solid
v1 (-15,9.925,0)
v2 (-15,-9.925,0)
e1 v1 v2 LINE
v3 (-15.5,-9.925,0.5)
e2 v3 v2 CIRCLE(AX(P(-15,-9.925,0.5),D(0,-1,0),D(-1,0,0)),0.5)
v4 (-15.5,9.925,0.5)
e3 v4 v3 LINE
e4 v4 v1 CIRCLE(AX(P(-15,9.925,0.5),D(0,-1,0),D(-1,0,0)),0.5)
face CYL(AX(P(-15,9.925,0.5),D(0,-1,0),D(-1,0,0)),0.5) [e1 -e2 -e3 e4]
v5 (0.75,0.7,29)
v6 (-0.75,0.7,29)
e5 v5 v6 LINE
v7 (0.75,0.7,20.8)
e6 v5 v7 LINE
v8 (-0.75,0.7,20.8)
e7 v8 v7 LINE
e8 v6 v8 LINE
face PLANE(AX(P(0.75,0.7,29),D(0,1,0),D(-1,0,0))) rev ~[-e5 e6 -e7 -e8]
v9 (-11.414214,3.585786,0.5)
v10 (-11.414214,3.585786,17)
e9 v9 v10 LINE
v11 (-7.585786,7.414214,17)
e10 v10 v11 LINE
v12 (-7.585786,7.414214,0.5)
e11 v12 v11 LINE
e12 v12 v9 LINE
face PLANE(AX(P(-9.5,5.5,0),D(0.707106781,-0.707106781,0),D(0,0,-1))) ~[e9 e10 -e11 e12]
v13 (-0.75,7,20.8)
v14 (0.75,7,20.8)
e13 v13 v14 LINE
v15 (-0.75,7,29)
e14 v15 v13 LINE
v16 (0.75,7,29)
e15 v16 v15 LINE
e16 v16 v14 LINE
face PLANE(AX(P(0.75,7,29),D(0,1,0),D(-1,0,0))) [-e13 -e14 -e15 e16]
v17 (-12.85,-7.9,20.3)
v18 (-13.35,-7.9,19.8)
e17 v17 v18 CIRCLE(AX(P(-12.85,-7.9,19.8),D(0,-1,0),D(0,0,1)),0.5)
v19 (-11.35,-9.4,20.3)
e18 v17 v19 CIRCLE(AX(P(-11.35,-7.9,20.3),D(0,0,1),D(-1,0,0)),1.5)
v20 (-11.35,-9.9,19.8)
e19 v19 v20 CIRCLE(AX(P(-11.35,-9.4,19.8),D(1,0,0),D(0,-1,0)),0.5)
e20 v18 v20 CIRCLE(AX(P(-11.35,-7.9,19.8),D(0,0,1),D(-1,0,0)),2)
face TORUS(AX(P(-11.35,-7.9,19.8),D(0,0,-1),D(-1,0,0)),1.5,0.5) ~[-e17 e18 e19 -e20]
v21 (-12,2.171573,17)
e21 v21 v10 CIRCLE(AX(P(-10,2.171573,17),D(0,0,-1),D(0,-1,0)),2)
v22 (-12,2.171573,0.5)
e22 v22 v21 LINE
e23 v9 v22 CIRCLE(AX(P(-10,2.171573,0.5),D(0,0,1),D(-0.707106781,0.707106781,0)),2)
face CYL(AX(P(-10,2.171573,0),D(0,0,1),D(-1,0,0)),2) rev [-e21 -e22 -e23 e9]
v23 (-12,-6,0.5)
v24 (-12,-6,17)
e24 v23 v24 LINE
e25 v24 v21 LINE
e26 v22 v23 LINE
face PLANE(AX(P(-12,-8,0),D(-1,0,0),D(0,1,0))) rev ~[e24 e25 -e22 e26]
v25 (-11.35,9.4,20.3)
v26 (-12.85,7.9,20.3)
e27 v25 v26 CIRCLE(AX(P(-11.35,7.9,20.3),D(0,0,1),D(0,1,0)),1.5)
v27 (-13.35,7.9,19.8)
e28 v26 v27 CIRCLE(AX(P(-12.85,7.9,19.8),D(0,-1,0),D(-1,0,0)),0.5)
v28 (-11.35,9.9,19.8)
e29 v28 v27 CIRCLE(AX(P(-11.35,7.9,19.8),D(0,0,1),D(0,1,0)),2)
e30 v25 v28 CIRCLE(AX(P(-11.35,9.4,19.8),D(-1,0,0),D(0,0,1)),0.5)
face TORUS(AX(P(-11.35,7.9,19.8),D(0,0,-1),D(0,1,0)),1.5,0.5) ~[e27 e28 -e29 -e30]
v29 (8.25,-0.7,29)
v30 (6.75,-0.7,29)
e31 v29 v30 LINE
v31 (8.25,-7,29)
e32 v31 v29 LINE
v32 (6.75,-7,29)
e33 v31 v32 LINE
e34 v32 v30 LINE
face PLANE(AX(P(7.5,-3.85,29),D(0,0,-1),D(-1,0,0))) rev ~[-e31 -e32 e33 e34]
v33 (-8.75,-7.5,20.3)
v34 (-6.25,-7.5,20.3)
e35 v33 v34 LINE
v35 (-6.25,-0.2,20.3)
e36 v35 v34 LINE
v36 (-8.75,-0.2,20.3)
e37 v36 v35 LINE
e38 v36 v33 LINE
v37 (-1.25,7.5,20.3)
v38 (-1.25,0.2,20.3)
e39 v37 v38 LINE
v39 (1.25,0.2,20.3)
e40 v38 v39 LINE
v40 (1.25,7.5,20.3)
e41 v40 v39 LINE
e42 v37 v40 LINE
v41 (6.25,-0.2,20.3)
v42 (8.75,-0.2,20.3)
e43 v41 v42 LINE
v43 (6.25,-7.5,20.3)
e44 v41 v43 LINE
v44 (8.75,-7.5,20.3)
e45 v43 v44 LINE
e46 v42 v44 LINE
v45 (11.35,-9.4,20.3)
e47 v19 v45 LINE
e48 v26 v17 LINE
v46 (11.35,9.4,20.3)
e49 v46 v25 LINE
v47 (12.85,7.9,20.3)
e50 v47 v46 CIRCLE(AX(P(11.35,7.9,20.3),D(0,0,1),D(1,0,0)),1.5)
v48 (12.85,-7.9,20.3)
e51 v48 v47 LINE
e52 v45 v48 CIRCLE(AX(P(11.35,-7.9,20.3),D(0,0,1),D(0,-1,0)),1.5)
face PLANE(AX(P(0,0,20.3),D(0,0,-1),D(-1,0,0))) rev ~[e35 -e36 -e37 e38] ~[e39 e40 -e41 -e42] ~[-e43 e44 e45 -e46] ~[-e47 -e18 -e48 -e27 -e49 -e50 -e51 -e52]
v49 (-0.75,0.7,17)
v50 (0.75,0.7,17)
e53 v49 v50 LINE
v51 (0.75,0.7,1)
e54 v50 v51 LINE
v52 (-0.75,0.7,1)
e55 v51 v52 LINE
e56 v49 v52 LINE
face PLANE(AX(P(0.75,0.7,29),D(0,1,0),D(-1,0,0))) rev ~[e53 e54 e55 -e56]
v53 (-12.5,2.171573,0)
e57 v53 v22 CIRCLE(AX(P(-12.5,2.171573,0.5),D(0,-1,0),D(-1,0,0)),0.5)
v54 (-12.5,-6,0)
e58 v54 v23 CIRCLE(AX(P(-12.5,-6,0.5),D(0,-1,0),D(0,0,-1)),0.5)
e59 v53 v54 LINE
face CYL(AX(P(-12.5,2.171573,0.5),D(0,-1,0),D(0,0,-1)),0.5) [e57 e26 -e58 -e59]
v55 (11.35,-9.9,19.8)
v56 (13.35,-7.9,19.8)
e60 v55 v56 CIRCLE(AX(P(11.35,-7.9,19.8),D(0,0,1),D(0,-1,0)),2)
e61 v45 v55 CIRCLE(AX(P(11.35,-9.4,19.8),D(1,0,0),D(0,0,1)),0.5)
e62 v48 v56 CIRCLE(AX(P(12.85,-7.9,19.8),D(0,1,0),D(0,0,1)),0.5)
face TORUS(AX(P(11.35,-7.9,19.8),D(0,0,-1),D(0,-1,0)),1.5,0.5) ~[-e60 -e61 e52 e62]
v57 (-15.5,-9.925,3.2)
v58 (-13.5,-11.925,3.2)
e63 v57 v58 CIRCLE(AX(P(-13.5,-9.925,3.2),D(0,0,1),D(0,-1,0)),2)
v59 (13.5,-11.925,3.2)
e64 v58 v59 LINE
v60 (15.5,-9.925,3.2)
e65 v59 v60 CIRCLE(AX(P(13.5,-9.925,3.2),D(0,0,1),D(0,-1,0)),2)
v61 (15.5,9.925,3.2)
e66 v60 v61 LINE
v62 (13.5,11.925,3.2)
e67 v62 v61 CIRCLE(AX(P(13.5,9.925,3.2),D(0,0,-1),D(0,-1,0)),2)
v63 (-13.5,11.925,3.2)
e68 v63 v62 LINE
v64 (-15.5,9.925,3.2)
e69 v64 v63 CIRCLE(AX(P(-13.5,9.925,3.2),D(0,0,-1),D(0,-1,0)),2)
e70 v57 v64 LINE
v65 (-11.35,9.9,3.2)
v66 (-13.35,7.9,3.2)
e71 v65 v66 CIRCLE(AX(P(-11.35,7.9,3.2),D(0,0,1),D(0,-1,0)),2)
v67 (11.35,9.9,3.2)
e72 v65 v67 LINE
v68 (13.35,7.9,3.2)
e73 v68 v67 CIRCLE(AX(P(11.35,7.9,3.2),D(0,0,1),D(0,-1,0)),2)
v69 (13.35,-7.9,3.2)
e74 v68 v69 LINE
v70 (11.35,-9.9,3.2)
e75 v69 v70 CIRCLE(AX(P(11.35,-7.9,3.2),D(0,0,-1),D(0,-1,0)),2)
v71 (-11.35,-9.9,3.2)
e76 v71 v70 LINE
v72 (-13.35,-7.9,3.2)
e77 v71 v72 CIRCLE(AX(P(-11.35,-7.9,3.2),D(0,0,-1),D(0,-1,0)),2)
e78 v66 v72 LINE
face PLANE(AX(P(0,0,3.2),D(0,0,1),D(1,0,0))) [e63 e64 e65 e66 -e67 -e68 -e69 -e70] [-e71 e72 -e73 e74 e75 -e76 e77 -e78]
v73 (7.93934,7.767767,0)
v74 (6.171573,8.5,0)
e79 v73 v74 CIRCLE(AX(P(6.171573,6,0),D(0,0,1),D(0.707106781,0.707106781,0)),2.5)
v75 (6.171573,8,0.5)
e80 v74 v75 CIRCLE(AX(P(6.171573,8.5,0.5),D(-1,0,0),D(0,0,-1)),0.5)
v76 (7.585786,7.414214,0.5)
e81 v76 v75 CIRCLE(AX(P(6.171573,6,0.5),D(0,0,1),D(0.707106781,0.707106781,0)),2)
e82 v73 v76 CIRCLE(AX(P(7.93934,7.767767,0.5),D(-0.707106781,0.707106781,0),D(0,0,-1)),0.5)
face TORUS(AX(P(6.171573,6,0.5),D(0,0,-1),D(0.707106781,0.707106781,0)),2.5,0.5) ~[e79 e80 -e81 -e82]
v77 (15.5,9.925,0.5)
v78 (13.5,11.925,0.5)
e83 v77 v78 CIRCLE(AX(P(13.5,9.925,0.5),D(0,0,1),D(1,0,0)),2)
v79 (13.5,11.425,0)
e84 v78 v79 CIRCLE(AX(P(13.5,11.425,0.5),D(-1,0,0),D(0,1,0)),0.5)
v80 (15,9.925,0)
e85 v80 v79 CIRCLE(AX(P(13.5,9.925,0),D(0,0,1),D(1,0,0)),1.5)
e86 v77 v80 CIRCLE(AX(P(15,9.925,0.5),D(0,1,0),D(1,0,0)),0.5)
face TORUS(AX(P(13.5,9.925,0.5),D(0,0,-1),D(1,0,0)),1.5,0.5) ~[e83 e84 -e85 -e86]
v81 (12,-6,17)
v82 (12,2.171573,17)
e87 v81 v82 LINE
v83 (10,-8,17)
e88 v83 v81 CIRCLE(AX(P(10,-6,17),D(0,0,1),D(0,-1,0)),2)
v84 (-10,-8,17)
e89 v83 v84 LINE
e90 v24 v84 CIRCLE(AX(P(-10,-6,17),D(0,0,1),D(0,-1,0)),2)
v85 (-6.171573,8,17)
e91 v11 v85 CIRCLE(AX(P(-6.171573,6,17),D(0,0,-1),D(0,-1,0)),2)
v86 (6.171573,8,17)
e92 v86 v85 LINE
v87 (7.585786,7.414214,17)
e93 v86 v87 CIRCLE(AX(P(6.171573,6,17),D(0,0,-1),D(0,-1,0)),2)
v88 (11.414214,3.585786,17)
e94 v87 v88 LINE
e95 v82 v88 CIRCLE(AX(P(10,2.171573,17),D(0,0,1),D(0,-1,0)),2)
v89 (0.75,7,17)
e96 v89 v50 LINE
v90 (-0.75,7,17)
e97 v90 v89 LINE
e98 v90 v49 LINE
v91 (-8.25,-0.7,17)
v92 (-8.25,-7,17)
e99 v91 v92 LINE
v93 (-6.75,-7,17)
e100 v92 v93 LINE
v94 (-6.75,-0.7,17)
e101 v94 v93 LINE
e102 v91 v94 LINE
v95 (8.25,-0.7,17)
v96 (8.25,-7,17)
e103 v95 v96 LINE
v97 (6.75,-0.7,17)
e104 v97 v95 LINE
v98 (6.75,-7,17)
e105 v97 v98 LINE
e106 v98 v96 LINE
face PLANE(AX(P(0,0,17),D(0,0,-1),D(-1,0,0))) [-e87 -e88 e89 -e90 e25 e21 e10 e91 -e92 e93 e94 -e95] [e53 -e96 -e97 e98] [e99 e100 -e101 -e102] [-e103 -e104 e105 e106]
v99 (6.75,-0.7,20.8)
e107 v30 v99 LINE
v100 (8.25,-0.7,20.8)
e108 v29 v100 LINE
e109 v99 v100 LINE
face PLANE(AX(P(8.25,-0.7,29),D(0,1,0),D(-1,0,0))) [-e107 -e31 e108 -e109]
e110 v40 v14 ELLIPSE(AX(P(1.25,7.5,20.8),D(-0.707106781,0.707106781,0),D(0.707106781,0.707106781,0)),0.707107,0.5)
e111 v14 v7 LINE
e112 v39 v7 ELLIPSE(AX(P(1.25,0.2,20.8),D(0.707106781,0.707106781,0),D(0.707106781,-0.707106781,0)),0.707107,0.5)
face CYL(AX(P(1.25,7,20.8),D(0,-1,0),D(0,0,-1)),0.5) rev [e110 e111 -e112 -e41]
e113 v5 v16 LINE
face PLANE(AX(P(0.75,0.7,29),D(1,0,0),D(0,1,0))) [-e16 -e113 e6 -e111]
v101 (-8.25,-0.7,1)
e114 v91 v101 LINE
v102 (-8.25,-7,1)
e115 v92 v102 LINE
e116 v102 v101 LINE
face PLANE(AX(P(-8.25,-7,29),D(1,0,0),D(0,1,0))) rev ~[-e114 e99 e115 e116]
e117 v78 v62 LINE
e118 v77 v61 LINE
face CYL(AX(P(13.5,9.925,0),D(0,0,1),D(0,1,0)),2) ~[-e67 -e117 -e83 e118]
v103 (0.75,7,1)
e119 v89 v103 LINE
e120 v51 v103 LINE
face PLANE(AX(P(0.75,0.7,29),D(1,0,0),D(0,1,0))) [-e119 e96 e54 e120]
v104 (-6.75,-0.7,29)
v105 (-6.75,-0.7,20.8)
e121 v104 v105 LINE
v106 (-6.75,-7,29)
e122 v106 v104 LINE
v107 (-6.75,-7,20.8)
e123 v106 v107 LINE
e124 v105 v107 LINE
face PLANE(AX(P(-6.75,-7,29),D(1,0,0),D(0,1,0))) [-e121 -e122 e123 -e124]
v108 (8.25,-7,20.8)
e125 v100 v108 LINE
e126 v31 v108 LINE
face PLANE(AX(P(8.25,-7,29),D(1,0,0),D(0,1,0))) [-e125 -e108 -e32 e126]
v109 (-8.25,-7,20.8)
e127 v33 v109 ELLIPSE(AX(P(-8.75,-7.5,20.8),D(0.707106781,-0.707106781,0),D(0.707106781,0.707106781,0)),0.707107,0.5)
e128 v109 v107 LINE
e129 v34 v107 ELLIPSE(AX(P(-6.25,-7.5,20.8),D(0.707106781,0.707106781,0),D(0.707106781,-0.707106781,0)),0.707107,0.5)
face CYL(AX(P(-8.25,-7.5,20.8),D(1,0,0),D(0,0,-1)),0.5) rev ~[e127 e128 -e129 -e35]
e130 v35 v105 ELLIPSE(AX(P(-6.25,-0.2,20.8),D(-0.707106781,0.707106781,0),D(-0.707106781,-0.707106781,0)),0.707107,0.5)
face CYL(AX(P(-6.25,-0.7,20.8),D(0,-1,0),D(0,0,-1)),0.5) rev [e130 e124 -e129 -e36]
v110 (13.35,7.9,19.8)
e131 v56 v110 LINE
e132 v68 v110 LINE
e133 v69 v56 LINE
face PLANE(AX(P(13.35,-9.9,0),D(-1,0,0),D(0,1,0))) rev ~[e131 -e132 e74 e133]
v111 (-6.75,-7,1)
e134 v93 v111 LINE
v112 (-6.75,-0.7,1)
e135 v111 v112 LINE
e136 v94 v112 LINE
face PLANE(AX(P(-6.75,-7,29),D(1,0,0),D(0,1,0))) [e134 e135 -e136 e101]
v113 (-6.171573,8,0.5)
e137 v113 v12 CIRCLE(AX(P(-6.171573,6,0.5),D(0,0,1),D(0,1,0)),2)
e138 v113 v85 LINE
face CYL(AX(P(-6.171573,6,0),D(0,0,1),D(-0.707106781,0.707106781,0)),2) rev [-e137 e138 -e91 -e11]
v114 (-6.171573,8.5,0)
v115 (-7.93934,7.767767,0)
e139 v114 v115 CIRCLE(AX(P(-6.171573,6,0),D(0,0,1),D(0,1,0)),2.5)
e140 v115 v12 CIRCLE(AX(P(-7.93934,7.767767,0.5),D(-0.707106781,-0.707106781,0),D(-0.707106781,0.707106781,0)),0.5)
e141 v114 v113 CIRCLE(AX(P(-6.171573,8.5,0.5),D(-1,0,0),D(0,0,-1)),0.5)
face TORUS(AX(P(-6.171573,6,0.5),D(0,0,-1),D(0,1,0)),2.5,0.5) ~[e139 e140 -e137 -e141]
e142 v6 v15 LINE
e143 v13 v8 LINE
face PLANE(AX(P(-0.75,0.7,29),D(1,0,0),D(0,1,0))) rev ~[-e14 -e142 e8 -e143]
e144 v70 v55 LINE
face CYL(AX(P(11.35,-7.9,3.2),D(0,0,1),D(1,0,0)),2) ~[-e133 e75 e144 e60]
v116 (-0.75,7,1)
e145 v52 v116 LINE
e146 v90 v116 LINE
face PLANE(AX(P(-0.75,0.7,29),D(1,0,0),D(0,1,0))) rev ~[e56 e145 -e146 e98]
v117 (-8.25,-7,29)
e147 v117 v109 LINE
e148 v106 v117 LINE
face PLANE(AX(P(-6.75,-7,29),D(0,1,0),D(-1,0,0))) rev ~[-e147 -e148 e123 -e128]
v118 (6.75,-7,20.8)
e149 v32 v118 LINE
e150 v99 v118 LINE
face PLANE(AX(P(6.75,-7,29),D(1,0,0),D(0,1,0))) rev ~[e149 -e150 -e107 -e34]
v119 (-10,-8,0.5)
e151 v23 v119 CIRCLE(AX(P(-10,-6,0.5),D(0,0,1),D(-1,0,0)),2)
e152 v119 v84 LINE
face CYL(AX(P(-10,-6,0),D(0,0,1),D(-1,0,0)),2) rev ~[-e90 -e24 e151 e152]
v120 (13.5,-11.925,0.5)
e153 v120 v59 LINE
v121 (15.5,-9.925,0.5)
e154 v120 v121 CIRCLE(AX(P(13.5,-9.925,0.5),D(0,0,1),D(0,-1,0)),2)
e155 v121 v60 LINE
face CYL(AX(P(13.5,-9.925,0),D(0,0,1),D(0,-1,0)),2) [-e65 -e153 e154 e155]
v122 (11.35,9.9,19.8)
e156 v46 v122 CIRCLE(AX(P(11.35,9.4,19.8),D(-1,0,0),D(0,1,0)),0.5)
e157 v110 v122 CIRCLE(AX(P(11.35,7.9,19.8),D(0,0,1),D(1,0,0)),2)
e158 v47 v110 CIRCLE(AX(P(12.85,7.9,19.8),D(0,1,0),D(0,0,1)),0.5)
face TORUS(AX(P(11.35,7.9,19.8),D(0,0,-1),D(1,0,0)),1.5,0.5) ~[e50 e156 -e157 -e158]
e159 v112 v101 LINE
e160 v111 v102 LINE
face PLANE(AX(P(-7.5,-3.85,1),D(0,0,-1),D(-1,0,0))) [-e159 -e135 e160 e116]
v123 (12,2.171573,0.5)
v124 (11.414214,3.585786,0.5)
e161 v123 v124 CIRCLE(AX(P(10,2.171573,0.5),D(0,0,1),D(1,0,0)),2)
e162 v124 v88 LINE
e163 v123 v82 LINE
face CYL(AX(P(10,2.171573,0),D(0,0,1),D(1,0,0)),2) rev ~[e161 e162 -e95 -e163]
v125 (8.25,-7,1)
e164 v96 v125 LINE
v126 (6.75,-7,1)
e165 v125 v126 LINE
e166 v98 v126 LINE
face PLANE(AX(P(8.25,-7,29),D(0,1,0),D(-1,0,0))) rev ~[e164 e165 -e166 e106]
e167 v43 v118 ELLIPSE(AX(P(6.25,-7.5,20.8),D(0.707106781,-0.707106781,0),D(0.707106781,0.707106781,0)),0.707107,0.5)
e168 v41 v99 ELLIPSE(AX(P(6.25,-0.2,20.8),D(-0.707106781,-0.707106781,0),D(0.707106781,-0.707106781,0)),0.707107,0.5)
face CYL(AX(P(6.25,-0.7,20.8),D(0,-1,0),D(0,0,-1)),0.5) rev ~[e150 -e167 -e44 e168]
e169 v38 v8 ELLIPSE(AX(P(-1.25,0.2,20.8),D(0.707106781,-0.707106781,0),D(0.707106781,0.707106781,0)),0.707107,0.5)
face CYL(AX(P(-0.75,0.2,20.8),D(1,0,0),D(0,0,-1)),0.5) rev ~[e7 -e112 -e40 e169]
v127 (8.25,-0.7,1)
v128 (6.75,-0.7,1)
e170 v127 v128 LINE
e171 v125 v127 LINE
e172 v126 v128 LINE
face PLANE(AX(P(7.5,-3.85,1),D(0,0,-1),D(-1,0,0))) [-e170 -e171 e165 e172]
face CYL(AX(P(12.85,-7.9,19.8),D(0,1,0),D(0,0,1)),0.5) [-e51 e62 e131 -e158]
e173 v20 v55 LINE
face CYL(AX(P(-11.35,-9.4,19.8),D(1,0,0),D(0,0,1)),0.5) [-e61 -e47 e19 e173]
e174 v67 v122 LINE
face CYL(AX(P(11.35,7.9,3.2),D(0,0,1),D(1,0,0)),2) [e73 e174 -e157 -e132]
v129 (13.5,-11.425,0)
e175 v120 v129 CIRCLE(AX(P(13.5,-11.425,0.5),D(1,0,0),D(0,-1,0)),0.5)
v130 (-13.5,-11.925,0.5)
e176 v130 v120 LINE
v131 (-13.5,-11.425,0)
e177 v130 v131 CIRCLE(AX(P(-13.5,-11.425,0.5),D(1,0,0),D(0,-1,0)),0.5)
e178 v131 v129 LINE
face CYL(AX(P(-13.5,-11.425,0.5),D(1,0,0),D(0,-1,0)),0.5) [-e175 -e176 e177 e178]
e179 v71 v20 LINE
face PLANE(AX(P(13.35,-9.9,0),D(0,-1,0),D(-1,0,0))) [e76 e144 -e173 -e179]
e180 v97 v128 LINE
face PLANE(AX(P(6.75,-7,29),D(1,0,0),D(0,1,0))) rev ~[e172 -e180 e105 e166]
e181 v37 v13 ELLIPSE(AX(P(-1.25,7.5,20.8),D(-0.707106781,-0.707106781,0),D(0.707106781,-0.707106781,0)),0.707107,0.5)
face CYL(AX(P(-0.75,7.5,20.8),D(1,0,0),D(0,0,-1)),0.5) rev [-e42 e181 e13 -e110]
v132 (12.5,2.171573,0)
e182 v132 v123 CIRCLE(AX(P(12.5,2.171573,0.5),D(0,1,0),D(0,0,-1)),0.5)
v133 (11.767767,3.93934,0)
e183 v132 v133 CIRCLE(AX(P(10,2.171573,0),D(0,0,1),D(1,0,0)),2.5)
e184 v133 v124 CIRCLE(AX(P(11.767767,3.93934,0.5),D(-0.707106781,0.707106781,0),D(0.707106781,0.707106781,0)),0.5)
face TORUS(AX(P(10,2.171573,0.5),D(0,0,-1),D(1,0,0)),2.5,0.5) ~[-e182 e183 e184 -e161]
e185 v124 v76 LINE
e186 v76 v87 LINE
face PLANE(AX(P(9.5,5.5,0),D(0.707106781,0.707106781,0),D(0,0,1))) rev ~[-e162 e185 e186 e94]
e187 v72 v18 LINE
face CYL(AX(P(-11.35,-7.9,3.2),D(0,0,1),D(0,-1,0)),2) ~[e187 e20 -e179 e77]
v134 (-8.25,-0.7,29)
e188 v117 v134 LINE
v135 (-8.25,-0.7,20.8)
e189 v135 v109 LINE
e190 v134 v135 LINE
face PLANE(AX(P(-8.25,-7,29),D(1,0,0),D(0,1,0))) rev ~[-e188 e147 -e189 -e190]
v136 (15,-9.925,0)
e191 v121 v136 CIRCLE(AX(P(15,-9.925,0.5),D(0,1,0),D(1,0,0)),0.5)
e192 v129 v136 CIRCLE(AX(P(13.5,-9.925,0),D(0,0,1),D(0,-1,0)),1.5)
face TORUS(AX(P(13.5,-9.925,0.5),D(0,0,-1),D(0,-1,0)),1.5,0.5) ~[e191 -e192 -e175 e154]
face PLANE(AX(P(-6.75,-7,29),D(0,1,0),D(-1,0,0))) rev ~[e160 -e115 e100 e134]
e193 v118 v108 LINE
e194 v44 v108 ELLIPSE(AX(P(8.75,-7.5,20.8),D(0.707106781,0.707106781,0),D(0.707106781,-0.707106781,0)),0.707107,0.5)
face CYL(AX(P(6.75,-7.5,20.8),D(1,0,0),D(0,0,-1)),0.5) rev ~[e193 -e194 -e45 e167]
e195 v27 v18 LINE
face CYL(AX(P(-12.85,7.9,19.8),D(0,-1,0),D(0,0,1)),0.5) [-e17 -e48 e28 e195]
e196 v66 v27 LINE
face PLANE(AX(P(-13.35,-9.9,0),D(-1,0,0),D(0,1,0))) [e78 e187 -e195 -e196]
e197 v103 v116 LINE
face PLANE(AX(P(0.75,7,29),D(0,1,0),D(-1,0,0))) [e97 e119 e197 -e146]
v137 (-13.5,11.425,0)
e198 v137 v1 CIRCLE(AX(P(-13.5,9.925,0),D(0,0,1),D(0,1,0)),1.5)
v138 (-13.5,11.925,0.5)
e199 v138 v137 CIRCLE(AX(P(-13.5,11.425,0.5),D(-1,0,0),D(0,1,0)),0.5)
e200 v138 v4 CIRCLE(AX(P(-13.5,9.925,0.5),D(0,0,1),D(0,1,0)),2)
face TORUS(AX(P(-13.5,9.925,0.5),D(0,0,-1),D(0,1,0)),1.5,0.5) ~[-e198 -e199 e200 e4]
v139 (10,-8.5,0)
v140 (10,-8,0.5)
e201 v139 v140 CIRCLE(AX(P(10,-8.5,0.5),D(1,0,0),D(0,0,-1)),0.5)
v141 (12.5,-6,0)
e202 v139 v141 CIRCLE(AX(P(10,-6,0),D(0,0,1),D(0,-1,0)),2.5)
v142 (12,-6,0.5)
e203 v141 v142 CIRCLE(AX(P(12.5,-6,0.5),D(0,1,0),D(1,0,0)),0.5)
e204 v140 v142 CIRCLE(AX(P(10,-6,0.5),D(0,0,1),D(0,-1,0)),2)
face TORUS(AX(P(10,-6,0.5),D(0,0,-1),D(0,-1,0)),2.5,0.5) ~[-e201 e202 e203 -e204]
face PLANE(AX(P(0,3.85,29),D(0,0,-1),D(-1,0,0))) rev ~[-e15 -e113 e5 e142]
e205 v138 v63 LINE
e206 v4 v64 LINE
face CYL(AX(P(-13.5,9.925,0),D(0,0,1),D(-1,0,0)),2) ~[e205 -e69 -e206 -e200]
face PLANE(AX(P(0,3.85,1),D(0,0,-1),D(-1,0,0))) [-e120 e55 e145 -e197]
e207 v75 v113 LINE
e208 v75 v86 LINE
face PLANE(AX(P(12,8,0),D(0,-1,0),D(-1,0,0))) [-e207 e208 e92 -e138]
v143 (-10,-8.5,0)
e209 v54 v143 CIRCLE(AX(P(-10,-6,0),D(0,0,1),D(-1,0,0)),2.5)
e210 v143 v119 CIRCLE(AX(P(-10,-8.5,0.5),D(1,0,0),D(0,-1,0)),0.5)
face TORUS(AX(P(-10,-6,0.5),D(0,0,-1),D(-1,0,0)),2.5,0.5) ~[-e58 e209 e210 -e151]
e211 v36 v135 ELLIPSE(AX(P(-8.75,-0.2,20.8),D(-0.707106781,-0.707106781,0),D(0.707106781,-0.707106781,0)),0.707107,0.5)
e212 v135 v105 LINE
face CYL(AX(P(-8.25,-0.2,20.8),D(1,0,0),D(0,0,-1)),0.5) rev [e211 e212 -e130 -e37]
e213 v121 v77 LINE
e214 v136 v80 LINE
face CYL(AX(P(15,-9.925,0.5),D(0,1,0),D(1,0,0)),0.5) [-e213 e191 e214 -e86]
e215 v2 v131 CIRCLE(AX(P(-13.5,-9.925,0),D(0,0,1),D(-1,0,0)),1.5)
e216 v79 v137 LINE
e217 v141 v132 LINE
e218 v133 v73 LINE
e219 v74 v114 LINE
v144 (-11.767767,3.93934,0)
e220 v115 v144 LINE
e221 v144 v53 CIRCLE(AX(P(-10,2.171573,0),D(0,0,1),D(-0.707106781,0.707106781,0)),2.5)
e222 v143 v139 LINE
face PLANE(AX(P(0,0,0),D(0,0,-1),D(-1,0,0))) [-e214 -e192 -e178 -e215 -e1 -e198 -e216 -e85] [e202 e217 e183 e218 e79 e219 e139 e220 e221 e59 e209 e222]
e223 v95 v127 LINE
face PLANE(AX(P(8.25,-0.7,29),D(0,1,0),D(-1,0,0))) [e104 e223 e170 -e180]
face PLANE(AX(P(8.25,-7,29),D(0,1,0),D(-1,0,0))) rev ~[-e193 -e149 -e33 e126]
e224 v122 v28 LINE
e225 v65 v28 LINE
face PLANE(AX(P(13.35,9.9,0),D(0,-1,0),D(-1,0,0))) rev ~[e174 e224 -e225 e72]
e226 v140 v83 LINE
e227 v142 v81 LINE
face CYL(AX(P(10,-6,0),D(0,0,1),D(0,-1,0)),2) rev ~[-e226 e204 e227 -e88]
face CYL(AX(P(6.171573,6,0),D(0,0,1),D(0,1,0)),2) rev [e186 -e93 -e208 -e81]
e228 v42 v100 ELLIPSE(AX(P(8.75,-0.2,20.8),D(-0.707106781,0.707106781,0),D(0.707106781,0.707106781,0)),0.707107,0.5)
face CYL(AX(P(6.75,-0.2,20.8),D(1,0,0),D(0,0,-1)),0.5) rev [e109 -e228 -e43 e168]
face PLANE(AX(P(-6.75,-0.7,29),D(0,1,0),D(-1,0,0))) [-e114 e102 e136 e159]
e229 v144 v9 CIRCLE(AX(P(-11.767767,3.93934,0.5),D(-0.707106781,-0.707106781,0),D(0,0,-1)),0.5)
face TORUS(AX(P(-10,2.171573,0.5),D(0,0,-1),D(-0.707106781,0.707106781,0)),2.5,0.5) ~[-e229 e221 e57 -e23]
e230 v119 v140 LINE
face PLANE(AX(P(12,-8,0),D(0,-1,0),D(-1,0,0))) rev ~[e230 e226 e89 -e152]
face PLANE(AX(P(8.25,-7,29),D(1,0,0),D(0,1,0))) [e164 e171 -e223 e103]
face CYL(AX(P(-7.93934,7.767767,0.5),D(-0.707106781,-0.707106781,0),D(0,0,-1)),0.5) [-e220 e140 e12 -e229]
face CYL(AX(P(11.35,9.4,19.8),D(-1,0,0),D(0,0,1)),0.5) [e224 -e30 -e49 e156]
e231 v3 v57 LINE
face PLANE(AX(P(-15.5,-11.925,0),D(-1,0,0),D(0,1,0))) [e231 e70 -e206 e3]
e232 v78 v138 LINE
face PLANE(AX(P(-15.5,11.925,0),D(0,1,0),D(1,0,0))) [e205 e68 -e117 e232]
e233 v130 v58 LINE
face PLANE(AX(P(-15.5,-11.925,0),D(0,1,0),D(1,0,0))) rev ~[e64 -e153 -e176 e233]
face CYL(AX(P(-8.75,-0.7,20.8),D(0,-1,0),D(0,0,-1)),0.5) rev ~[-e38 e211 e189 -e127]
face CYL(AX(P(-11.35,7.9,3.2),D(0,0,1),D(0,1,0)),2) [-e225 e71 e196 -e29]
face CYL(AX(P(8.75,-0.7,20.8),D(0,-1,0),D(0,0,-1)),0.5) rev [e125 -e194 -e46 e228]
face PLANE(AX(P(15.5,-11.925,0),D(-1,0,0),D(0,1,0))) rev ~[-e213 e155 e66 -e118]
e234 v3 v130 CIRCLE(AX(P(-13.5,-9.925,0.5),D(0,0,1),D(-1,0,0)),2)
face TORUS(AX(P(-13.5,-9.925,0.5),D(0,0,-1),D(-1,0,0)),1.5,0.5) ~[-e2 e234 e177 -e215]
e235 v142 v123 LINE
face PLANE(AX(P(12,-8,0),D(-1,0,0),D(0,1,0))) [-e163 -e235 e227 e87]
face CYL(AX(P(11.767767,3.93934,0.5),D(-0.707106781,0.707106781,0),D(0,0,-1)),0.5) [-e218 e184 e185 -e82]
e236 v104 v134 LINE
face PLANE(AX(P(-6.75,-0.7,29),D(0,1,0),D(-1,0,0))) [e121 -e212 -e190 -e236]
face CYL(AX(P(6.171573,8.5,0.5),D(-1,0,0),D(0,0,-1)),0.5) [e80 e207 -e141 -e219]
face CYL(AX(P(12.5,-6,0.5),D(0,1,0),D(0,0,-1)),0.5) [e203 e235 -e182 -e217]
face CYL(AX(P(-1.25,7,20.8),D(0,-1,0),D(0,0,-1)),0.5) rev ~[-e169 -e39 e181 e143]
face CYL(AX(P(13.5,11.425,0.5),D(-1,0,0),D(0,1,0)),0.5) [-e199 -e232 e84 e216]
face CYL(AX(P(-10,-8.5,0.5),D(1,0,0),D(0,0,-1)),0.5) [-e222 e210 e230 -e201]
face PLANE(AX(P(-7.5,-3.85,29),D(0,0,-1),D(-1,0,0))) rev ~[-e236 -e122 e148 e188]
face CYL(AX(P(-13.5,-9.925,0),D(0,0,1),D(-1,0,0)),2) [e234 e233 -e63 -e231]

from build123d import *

# Parameters (mm, degrees)
ESQUISSE1_W             = 31
ESQUISSE1_H             = 23.85
BOSS_EXTRU_1_DEPTH      = 3.2
ESQUISSE2_W             = 26.7
ESQUISSE2_H             = 19.8
BOSS_EXTRU_2_DEPTH      = 20.3
ESQUISSE3_W             = 24
ESQUISSE3_H             = 16
ENL_V_MAT_EXTRU_1_DEPTH = 17
CHANFREIN1_SIZE         = 5
BOSS_EXTRU_3_DEPTH      = 16
BOSS_EXTRU_3_DEPTH_BACK = 12
ESQUISSE4_W             = 1.5
ESQUISSE4_H             = 6.3
CONG_1_R                = 2
CONG_2_R                = 0.5


with BuildPart() as part:
    # Esquisse1 → Boss.-Extru.1 (new body)
    with BuildSketch(Plane.XY):
        Rectangle(ESQUISSE1_W, ESQUISSE1_H)
    extrude(amount=BOSS_EXTRU_1_DEPTH)

    # Esquisse2 → Boss.-Extru.2 (add)
    with BuildSketch(Plane(origin=(0, 0, 0), x_dir=(-1, 0, 0), z_dir=(0, 0, -1))):
        Rectangle(ESQUISSE2_W, ESQUISSE2_H)
    extrude(amount=-BOSS_EXTRU_2_DEPTH)

    # Esquisse3 → Enlèv. mat.-Extru.1 (cut)
    with BuildSketch(Plane(origin=(0, 0, 0), x_dir=(-1, 0, 0), z_dir=(0, 0, -1))):
        Rectangle(ESQUISSE3_W, ESQUISSE3_H)
    extrude(amount=-ENL_V_MAT_EXTRU_1_DEPTH, mode=Mode.SUBTRACT)

    # Chanfrein1
    chanfrein1_edges = [part.edges().sort_by_distance(p)[0] for p in [
        (-12, 8, 8.5),
        (12, 8, 8.5),
    ]]
    chamfer(chanfrein1_edges, length=CHANFREIN1_SIZE)

    # Esquisse4 → Boss.-Extru.3 (add, two sides: drawn at the far end of the back side and taken through both)
    with BuildSketch(Plane(origin=(0, 0, 17), x_dir=(-1, 0, 0), z_dir=(0, 0, -1)).offset(-BOSS_EXTRU_3_DEPTH_BACK)):
        with Locations((0, 3.85)):
            Rectangle(ESQUISSE4_W, ESQUISSE4_H)
        with Locations((-7.5, -3.85)):
            Rectangle(ESQUISSE4_W, ESQUISSE4_H)
        with Locations((7.5, -3.85)):
            Rectangle(ESQUISSE4_W, ESQUISSE4_H)
    extrude(amount=BOSS_EXTRU_3_DEPTH + BOSS_EXTRU_3_DEPTH_BACK)

    # Congé1
    cong_1_edges = [part.edges().sort_by_distance(p)[0] for p in [
        (-13.35, 9.9, 11.75),
        (-13.35, -9.9, 11.75),
        (13.35, -9.9, 11.75),
        (13.35, 9.9, 11.75),
        (-12, -8, 8.5),
        (12, -8, 8.5),
        (12, 3, 8.5),
        (-7, 8, 8.5),
        (7, 8, 8.5),
        (-12, 3, 8.5),
        (15.5, -11.925, 1.6),
        (-15.5, -11.925, 1.6),
        (-15.5, 11.925, 1.6),
        (15.5, 11.925, 1.6),
    ]]
    fillet(cong_1_edges, radius=CONG_1_R)

    # Congé2
    cong_2_edges = [part.edges().sort_by_distance(p)[0] for p in [
        (-6.75, -3.85, 20.3),
        (-7.5, -7, 20.3),
        (-8.25, -3.85, 20.3),
        (15.5, 0, 0),
        (0, 8, 0),
        (-9.5, 5.5, 0),
        (-12, -1.914213562, 0),
        (0, -8, 0),
        (12, -1.914213562, 0),
        (9.5, 5.5, 0),
        (0, -11.925, 0),
        (-15.5, 0, 0),
        (0, 11.925, 0),
        (14.914213562, 11.339213562, 0),
        (-14.914213562, 11.339213562, 0),
        (-14.914213562, -11.339213562, 0),
        (14.914213562, -11.339213562, 0),
        (13.35, 0, 20.3),
        (0, -9.9, 20.3),
        (-13.35, 0, 20.3),
        (0, 9.9, 20.3),
        (12.764213562, 9.314213562, 20.3),
        (-12.764213562, 9.314213562, 20.3),
        (-12.764213562, -9.314213562, 20.3),
        (12.764213562, -9.314213562, 20.3),
        (-11.414213562, -7.414213562, 0),
        (-11.847759065, 2.93693974, 0),
        (-6.93693974, 7.847759065, 0),
        (6.93693974, 7.847759065, 0),
        (11.414213562, -7.414213562, 0),
        (11.847759065, 2.93693974, 0),
        (0, 7, 20.3),
        (0.75, 3.85, 20.3),
        (0, 0.7, 20.3),
        (-0.75, 3.85, 20.3),
        (7.5, -0.7, 20.3),
        (8.25, -3.85, 20.3),
        (7.5, -7, 20.3),
        (6.75, -3.85, 20.3),
        (-7.5, -0.7, 20.3),
    ]]
    fillet(cong_2_edges, radius=CONG_2_R)


solid = part.part
